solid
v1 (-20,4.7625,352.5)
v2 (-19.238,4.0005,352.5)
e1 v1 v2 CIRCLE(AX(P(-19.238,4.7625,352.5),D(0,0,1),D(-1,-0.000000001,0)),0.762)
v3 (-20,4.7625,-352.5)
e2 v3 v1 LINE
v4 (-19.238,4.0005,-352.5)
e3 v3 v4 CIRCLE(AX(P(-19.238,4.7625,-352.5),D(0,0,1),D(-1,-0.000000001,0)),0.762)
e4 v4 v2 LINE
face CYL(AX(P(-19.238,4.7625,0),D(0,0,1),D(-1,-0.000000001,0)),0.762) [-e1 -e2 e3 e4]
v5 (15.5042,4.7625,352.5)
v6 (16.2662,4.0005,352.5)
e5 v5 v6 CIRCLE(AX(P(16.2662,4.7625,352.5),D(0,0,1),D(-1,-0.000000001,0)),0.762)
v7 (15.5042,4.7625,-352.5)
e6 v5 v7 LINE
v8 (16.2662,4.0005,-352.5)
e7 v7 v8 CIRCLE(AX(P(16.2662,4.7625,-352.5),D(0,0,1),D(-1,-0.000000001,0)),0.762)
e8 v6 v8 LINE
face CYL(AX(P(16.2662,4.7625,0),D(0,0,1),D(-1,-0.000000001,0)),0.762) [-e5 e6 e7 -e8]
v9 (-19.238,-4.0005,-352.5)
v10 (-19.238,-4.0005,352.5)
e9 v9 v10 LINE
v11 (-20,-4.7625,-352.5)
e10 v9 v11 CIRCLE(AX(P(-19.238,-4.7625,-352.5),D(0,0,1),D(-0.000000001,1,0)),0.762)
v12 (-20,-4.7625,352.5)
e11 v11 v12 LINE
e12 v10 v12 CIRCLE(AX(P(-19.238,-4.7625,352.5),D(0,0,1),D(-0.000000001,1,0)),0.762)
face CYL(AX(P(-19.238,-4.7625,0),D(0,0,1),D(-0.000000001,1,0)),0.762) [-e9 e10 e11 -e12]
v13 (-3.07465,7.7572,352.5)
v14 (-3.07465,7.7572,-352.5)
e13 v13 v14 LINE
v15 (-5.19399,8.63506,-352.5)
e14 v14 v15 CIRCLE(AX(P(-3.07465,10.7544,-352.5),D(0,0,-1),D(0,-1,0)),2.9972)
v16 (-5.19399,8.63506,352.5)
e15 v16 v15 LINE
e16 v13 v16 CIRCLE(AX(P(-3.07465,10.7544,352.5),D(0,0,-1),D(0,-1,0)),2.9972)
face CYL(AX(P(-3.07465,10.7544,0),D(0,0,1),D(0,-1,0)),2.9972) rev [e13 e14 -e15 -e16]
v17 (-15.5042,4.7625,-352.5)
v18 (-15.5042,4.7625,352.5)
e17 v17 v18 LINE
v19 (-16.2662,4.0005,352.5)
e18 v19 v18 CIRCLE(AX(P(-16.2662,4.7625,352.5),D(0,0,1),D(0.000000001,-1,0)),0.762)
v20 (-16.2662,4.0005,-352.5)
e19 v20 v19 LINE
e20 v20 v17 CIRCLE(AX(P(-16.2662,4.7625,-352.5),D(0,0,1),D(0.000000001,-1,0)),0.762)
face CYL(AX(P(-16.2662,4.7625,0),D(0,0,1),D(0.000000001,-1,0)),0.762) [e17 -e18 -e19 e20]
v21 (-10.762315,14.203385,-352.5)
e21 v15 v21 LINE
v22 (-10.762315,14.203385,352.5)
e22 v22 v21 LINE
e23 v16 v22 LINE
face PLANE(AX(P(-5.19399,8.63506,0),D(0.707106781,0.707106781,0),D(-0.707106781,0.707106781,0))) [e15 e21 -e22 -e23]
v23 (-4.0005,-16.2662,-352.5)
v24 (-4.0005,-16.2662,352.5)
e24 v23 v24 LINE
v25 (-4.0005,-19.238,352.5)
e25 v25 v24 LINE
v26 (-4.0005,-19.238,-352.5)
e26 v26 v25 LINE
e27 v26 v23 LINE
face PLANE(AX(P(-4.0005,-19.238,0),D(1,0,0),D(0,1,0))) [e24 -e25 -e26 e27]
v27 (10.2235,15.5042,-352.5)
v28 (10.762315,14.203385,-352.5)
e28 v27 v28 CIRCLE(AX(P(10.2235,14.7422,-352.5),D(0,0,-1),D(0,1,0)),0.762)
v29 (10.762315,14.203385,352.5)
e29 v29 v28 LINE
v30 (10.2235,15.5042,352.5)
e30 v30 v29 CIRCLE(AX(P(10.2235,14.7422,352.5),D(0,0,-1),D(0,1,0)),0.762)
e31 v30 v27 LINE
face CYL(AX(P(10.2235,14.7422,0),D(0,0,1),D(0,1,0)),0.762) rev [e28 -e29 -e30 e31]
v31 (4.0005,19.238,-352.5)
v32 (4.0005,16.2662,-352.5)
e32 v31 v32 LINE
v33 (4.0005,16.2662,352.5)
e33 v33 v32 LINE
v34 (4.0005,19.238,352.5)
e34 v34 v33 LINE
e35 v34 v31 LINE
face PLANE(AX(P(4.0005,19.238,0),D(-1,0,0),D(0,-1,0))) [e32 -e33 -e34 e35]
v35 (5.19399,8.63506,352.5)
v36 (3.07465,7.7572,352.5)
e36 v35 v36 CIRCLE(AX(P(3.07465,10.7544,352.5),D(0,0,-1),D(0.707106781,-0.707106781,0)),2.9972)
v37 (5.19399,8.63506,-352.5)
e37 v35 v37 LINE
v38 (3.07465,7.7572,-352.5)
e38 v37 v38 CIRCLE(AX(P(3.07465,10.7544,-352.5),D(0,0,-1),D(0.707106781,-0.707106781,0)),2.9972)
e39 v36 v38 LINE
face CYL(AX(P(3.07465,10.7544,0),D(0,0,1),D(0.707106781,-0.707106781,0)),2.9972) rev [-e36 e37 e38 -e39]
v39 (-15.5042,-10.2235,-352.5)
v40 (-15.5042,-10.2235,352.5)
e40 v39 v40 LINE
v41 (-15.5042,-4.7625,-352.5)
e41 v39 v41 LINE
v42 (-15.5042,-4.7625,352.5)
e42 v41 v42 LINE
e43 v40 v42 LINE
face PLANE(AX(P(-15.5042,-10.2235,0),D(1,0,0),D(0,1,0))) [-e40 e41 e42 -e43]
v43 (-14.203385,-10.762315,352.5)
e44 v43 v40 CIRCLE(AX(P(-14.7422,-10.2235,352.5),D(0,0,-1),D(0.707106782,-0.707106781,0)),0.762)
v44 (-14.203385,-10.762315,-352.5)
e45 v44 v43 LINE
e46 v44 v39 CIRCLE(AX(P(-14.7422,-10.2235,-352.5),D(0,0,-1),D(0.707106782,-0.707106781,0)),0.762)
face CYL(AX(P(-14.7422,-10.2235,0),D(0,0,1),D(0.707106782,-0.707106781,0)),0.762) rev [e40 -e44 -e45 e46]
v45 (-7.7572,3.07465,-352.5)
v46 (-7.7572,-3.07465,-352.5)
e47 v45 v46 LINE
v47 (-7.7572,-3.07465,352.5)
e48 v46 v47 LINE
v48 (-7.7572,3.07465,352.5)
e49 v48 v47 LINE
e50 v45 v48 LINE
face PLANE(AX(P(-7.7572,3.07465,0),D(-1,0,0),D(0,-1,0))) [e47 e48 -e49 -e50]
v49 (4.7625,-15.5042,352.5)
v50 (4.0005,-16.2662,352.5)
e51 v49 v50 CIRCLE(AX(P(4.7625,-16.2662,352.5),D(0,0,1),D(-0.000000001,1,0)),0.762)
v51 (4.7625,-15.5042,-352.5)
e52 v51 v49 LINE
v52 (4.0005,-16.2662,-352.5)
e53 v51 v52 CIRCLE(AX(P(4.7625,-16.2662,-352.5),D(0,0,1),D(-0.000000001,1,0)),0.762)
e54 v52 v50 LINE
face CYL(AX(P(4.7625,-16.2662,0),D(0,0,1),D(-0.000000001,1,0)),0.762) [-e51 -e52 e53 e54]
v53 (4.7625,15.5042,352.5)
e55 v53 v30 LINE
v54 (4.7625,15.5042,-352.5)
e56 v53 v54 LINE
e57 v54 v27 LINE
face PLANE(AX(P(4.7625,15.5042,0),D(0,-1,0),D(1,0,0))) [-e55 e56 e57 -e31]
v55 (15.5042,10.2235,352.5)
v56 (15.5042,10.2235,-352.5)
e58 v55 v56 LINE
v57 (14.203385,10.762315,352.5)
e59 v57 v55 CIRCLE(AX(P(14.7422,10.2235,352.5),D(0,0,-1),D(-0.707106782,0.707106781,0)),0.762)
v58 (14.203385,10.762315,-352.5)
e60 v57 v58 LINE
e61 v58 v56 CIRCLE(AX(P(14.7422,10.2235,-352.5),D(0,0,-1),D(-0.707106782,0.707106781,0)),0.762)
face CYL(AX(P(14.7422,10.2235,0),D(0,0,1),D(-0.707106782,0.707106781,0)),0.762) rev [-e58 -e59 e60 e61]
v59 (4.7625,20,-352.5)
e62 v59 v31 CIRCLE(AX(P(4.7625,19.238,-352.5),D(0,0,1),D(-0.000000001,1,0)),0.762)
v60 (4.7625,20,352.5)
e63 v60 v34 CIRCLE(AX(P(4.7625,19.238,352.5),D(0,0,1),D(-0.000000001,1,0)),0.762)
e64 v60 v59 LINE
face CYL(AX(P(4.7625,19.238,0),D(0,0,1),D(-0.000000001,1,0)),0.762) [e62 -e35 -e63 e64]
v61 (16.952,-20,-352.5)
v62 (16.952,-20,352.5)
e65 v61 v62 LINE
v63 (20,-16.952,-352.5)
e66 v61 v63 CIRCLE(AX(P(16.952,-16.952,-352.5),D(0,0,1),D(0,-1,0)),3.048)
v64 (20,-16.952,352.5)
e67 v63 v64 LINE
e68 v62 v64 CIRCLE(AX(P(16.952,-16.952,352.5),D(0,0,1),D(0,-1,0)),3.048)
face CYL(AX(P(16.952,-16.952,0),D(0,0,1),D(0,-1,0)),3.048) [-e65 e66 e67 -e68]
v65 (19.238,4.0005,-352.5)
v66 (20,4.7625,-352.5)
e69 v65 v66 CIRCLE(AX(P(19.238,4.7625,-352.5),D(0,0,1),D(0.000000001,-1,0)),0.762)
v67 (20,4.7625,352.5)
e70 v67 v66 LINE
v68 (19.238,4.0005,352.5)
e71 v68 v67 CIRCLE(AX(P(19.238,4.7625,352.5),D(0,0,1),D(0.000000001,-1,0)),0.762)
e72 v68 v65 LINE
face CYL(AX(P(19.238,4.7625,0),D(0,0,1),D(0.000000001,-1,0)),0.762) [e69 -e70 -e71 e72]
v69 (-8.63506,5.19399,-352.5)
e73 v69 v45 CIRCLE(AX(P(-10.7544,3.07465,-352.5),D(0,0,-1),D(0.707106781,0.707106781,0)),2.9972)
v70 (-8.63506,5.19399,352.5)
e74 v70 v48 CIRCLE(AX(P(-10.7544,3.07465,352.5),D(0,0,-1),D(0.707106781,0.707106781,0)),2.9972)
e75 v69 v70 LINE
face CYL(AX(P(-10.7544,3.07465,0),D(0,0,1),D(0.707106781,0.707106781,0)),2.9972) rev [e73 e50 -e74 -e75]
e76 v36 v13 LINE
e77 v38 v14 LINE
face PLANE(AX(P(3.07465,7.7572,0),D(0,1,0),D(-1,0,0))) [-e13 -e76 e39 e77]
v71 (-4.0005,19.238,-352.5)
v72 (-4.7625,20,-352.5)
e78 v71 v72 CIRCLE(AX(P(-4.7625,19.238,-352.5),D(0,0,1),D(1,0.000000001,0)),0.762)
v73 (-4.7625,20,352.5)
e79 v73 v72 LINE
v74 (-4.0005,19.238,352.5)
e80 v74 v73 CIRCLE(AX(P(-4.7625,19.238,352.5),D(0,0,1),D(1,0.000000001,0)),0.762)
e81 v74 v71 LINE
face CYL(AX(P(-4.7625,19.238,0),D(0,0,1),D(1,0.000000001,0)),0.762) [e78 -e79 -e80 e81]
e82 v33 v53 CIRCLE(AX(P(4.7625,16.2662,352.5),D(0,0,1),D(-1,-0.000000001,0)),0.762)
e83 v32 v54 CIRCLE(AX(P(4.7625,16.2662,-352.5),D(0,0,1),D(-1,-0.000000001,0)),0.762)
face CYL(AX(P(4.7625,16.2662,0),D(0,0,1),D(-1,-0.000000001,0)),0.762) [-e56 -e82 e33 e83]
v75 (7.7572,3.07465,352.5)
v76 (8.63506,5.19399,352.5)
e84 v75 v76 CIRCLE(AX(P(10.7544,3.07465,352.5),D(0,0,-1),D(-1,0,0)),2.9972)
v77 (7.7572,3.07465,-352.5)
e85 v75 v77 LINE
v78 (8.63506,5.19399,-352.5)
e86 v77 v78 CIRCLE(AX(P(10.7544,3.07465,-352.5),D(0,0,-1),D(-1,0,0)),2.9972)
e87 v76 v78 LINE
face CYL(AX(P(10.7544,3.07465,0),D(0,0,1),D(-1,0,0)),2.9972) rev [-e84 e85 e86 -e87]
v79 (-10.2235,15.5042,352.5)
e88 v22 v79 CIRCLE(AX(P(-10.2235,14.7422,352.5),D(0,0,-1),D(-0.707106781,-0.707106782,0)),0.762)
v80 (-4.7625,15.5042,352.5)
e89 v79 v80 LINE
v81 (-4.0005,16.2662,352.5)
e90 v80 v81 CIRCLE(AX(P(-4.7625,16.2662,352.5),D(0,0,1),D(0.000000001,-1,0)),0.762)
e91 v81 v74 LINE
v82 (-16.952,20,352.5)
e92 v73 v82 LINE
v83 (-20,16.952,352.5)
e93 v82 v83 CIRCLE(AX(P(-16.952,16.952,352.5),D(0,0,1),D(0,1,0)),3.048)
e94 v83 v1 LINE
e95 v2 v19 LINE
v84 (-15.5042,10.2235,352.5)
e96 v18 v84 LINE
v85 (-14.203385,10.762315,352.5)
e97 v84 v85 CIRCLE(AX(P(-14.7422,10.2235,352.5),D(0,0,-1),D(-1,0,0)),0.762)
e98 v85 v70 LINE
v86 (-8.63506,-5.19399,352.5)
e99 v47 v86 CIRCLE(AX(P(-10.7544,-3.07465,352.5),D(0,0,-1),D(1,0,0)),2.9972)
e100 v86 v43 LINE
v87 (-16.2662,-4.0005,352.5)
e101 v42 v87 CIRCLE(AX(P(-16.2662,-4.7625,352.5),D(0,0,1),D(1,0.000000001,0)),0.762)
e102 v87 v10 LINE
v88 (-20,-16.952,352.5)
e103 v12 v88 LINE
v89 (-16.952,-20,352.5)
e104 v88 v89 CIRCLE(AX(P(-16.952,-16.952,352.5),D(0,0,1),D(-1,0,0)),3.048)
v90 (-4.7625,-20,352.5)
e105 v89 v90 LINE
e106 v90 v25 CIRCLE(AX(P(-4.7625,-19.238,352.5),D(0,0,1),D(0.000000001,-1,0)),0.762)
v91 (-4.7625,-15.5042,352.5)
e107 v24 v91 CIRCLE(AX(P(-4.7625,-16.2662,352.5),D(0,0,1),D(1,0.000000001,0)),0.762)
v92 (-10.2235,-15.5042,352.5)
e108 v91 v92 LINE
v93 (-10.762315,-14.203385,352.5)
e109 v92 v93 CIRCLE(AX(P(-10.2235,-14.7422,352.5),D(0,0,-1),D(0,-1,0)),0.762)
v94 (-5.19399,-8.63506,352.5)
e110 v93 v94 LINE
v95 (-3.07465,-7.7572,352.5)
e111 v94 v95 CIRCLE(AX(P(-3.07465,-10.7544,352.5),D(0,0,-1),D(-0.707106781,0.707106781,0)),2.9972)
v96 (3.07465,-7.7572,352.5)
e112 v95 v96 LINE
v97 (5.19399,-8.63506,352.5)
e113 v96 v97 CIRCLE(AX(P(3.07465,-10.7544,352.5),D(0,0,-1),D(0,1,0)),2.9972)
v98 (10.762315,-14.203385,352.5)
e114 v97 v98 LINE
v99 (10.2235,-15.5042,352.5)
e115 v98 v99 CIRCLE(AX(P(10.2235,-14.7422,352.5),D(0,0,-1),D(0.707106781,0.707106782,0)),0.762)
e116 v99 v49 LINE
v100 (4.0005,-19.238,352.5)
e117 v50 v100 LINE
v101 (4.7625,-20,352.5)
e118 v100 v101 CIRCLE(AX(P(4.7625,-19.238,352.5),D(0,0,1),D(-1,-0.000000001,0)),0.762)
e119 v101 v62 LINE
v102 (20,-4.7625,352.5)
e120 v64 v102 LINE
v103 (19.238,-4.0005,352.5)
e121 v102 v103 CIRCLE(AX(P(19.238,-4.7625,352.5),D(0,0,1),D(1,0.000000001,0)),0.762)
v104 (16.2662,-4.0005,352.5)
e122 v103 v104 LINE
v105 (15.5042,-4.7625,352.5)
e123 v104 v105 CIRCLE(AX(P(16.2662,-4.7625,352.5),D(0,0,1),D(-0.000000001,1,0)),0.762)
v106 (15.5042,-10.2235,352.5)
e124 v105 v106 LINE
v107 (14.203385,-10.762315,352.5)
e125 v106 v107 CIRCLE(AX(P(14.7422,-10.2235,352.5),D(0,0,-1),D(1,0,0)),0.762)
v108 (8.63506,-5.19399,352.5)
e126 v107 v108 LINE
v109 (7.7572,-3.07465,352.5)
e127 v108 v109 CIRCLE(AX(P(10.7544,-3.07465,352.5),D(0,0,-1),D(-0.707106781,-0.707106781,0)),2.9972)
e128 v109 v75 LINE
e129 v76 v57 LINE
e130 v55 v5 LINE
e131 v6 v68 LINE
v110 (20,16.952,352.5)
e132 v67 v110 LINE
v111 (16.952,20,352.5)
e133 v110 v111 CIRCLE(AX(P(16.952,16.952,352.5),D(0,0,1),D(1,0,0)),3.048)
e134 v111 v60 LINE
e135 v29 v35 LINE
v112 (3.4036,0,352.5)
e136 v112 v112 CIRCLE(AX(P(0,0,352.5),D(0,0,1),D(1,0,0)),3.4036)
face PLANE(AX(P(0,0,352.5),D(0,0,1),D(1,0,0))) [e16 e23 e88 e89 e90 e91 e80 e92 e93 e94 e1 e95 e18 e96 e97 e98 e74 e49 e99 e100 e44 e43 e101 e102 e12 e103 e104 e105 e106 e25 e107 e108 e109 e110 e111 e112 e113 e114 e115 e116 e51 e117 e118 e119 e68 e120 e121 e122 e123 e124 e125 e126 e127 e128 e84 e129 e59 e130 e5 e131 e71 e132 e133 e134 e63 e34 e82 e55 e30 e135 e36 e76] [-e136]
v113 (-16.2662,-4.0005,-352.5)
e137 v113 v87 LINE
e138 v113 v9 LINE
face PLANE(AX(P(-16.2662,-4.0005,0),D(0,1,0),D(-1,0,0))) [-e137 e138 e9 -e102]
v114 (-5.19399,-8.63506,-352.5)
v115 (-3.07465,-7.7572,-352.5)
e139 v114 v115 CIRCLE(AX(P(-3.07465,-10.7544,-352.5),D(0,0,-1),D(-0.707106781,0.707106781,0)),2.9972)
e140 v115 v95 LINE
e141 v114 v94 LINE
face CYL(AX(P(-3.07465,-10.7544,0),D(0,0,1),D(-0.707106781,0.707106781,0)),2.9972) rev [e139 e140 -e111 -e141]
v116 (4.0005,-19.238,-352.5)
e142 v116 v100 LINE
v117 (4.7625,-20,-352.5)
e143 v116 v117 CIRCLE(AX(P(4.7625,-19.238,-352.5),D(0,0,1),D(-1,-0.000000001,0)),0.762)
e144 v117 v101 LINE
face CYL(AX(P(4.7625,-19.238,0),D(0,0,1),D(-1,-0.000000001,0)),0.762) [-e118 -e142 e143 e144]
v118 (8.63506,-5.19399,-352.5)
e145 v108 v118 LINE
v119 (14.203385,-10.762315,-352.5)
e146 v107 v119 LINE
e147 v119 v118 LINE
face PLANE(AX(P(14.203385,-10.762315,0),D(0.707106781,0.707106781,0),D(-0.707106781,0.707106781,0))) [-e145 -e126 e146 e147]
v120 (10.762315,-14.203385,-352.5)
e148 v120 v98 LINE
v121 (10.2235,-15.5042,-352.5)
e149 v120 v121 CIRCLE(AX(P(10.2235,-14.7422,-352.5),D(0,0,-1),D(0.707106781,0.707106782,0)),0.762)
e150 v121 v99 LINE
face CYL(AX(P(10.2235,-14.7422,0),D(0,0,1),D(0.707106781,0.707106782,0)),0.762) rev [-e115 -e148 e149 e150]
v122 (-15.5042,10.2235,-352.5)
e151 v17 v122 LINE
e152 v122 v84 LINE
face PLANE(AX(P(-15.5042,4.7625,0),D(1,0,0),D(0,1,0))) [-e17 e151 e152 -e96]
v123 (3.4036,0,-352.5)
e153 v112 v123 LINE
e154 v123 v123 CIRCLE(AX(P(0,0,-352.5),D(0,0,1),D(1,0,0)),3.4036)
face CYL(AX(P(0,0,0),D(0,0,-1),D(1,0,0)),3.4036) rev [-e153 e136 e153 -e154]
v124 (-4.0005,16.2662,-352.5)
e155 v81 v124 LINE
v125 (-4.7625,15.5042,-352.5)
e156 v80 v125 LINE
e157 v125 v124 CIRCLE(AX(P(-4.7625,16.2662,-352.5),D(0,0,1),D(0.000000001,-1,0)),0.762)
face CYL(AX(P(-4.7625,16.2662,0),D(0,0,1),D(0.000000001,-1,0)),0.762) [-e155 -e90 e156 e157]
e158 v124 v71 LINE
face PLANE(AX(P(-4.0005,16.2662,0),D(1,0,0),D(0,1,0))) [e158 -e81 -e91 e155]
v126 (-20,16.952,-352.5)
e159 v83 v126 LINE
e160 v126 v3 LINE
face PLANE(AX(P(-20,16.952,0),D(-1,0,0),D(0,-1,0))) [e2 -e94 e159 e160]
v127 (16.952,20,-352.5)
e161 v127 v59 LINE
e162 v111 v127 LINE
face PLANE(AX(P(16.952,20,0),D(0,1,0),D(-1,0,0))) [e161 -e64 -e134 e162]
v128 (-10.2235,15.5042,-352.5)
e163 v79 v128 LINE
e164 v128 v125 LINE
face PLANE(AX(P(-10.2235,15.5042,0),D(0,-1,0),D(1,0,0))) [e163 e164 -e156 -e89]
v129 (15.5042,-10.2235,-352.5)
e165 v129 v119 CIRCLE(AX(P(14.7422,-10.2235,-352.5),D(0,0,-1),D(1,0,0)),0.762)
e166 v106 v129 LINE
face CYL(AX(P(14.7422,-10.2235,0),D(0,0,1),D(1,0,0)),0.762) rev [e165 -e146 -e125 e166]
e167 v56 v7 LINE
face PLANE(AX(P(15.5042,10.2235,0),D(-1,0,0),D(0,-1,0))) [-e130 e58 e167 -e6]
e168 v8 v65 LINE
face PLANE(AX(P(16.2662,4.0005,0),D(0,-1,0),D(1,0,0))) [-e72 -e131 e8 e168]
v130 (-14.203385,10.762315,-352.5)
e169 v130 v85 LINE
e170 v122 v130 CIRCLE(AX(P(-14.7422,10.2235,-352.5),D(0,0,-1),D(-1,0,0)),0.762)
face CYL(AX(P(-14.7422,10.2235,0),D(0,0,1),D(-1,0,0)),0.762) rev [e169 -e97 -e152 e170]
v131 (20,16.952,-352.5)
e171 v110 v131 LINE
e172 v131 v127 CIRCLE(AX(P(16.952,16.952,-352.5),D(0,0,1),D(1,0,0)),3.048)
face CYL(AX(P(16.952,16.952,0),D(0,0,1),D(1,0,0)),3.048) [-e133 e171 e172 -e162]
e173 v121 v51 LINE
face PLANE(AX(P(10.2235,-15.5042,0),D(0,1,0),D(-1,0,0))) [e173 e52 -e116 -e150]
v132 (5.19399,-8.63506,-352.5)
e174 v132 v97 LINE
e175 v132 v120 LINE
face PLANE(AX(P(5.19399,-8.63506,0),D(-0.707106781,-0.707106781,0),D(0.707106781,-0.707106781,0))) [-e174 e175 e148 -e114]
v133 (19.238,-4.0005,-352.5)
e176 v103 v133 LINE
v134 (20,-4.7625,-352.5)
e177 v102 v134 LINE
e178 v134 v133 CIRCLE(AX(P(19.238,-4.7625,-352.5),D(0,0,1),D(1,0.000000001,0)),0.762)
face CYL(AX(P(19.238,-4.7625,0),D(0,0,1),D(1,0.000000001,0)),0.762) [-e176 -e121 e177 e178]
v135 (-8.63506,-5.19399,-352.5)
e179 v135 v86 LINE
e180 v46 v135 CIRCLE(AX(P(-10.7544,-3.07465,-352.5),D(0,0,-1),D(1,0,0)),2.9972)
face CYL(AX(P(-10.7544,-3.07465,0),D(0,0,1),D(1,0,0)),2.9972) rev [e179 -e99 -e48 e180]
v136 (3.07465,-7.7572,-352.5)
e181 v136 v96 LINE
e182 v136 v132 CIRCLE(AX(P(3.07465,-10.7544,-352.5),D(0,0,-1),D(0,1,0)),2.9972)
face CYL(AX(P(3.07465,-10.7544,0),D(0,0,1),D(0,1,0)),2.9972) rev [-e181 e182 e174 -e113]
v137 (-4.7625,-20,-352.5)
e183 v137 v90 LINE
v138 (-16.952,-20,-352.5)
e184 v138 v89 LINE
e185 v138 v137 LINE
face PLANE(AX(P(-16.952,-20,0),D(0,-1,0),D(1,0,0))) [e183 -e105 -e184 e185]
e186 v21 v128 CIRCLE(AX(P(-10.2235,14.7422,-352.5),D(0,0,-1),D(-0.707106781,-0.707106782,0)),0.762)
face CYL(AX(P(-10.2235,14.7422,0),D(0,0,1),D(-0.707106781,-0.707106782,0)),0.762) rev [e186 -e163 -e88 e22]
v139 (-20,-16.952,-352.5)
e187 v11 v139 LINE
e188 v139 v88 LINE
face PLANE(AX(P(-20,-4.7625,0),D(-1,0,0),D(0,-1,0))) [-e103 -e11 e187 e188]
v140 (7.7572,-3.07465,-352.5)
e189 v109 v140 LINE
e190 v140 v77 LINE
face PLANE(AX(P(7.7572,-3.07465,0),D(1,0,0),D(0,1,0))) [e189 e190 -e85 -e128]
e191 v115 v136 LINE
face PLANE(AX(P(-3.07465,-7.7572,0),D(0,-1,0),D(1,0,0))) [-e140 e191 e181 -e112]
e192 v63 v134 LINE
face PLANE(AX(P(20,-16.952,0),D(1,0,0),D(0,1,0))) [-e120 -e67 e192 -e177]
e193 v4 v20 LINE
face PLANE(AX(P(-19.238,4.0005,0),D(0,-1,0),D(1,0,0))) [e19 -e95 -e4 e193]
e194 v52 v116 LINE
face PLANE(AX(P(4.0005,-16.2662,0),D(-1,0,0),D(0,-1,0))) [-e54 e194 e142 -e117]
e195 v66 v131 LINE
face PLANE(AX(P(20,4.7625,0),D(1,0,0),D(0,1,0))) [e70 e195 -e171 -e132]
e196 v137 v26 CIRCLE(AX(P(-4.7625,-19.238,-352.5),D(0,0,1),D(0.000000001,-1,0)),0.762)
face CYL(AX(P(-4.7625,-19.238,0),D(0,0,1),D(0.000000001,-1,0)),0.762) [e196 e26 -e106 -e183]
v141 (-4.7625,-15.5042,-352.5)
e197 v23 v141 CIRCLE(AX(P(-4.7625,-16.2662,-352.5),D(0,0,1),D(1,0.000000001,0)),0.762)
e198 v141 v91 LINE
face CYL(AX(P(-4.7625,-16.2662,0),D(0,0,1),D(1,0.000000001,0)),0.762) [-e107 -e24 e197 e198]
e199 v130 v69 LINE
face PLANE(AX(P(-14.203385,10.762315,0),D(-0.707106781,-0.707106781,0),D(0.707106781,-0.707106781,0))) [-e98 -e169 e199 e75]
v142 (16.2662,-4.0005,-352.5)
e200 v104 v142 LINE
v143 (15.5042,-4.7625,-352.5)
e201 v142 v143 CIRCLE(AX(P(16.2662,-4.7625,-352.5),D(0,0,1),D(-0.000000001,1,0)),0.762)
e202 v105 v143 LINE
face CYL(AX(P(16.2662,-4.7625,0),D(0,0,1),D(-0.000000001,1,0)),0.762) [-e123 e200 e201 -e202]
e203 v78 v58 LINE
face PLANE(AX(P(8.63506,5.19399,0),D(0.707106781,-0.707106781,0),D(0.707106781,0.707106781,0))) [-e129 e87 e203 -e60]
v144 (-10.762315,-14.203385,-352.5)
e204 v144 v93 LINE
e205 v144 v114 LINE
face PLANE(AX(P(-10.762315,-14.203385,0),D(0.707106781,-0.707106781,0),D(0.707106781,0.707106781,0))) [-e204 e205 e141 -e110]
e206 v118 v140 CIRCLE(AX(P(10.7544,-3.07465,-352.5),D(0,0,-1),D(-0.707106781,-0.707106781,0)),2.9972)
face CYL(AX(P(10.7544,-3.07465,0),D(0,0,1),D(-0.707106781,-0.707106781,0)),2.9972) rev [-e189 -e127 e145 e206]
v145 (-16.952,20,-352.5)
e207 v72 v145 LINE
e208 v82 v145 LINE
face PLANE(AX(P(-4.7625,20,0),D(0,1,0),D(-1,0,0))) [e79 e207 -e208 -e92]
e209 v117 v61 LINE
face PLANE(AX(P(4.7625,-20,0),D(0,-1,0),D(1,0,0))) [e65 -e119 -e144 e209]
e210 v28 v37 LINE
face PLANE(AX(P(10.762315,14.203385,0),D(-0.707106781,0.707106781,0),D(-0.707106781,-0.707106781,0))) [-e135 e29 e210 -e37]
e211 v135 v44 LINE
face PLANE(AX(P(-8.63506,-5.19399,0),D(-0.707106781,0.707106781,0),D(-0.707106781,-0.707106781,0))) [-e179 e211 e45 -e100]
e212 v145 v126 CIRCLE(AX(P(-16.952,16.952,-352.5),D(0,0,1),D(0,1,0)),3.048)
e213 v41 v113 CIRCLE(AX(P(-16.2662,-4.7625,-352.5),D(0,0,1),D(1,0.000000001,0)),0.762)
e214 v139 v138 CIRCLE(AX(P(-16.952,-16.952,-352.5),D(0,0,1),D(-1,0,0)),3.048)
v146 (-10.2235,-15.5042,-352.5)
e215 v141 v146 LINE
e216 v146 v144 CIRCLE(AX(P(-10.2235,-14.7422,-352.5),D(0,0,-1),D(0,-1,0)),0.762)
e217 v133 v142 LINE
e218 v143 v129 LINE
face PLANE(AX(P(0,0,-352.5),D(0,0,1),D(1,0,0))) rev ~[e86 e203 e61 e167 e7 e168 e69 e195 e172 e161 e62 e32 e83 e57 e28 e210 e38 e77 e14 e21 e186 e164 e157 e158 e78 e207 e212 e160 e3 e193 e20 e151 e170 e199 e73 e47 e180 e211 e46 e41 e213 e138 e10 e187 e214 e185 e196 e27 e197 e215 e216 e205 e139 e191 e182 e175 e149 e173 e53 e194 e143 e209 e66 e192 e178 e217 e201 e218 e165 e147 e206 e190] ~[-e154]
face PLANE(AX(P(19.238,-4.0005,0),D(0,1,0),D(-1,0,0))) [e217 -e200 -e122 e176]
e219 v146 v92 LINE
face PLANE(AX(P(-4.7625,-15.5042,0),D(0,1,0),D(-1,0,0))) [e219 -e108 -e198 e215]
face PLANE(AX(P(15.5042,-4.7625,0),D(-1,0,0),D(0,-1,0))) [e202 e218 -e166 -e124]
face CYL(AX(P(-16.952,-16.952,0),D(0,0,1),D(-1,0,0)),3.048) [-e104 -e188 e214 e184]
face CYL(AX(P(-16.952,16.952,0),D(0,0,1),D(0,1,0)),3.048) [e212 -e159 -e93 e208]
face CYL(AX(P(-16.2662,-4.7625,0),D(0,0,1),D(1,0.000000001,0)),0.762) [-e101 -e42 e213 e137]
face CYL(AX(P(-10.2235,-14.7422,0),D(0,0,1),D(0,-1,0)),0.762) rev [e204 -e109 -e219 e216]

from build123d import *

# Parameters (mm, degrees)
SKETCH1_R           = 3.4036
BOSS_EXTRUDE1_DEPTH = 352.5


with BuildPart() as part:
    # Sketch1 → Boss-Extrude1 (new body, symmetric)
    with BuildSketch(Plane.XY):
        with BuildLine():
            Line((-20, 16.952), (-20, 4.7625))
            ThreePointArc((-20, 4.7625), (-19.776815367, 4.223684633), (-19.238, 4.0005))
            Line((-19.238, 4.0005), (-16.2662, 4.0005))
            ThreePointArc((-16.2662, 4.0005), (-15.727384633, 4.223684633), (-15.5042, 4.7625))
            Line((-15.5042, 4.7625), (-15.5042, 10.2235))
            ThreePointArc((-15.5042, 10.2235), (-15.033804775, 10.927496204), (-14.203384633, 10.762315367))
            Line((-14.203384633, 10.762315367), (-8.635059555, 5.19399029))
            ThreePointArc((-8.635059555, 5.19399029), (-7.985348265, 4.221628629), (-7.7572, 3.074649845))
            Line((-7.7572, 3.074649845), (-7.7572, -3.074649845))
            ThreePointArc((-7.7572, -3.074649845), (-7.985348265, -4.221628629), (-8.635059555, -5.19399029))
            Line((-8.635059555, -5.19399029), (-14.203384633, -10.762315367))
            ThreePointArc((-14.203384633, -10.762315367), (-15.033804775, -10.927496204), (-15.5042, -10.2235))
            Line((-15.5042, -10.2235), (-15.5042, -4.7625))
            ThreePointArc((-15.5042, -4.7625), (-15.727384633, -4.223684633), (-16.2662, -4.0005))
            Line((-16.2662, -4.0005), (-19.238, -4.0005))
            ThreePointArc((-19.238, -4.0005), (-19.776815367, -4.223684633), (-20, -4.7625))
            Line((-20, -4.7625), (-20, -16.952))
            ThreePointArc((-20, -16.952), (-19.107261469, -19.107261469), (-16.952, -20))
            Line((-16.952, -20), (-4.7625, -20))
            ThreePointArc((-4.7625, -20), (-4.223684633, -19.776815367), (-4.0005, -19.238))
            Line((-4.0005, -19.238), (-4.0005, -16.2662))
            ThreePointArc((-4.0005, -16.2662), (-4.223684633, -15.727384633), (-4.7625, -15.5042))
            Line((-4.7625, -15.5042), (-10.2235, -15.5042))
            ThreePointArc((-10.2235, -15.5042), (-10.927496204, -15.033804775), (-10.762315367, -14.203384633))
            Line((-10.762315367, -14.203384633), (-5.19399029, -8.635059555))
            ThreePointArc((-5.19399029, -8.635059555), (-4.221628629, -7.985348265), (-3.074649845, -7.7572))
            Line((-3.074649845, -7.7572), (3.074649845, -7.7572))
            ThreePointArc((3.074649845, -7.7572), (4.221628629, -7.985348265), (5.19399029, -8.635059555))
            Line((5.19399029, -8.635059555), (10.762315367, -14.203384633))
            ThreePointArc((10.762315367, -14.203384633), (10.927496204, -15.033804775), (10.2235, -15.5042))
            Line((10.2235, -15.5042), (4.7625, -15.5042))
            ThreePointArc((4.7625, -15.5042), (4.223684633, -15.727384633), (4.0005, -16.2662))
            Line((4.0005, -16.2662), (4.0005, -19.238))
            ThreePointArc((4.0005, -19.238), (4.223684633, -19.776815367), (4.7625, -20))
            Line((4.7625, -20), (16.952, -20))
            ThreePointArc((16.952, -20), (19.107261469, -19.107261469), (20, -16.952))
            Line((20, -16.952), (20, -4.7625))
            ThreePointArc((20, -4.7625), (19.776815367, -4.223684633), (19.238, -4.0005))
            Line((19.238, -4.0005), (16.2662, -4.0005))
            ThreePointArc((16.2662, -4.0005), (15.727384633, -4.223684633), (15.5042, -4.7625))
            Line((15.5042, -4.7625), (15.5042, -10.2235))
            ThreePointArc((15.5042, -10.2235), (15.033804775, -10.927496204), (14.203384633, -10.762315367))
            Line((14.203384633, -10.762315367), (8.635059555, -5.19399029))
            ThreePointArc((8.635059555, -5.19399029), (7.985348265, -4.221628629), (7.7572, -3.074649845))
            Line((7.7572, -3.074649845), (7.7572, 3.074649845))
            ThreePointArc((7.7572, 3.074649845), (7.985348265, 4.221628629), (8.635059555, 5.19399029))
            Line((8.635059555, 5.19399029), (14.203384633, 10.762315367))
            ThreePointArc((14.203384633, 10.762315367), (15.033804775, 10.927496204), (15.5042, 10.2235))
            Line((15.5042, 10.2235), (15.5042, 4.7625))
            ThreePointArc((15.5042, 4.7625), (15.727384633, 4.223684633), (16.2662, 4.0005))
            Line((16.2662, 4.0005), (19.238, 4.0005))
            ThreePointArc((19.238, 4.0005), (19.776815367, 4.223684633), (20, 4.7625))
            Line((20, 4.7625), (20, 16.952))
            ThreePointArc((20, 16.952), (19.107261469, 19.107261469), (16.952, 20))
            Line((16.952, 20), (4.7625, 20))
            ThreePointArc((4.7625, 20), (4.223684633, 19.776815367), (4.0005, 19.238))
            Line((4.0005, 19.238), (4.0005, 16.2662))
            ThreePointArc((4.0005, 16.2662), (4.223684633, 15.727384633), (4.7625, 15.5042))
            Line((4.7625, 15.5042), (10.2235, 15.5042))
            ThreePointArc((10.2235, 15.5042), (10.927496204, 15.033804775), (10.762315367, 14.203384633))
            Line((10.762315367, 14.203384633), (5.19399029, 8.635059555))
            ThreePointArc((5.19399029, 8.635059555), (4.221628629, 7.985348265), (3.074649845, 7.7572))
            Line((3.074649845, 7.7572), (-3.074649845, 7.7572))
            ThreePointArc((-3.074649845, 7.7572), (-4.221628629, 7.985348265), (-5.19399029, 8.635059555))
            Line((-5.19399029, 8.635059555), (-10.762315367, 14.203384633))
            ThreePointArc((-10.762315367, 14.203384633), (-10.927496204, 15.033804775), (-10.2235, 15.5042))
            Line((-10.2235, 15.5042), (-4.7625, 15.5042))
            ThreePointArc((-4.7625, 15.5042), (-4.223684633, 15.727384633), (-4.0005, 16.2662))
            Line((-4.0005, 16.2662), (-4.0005, 19.238))
            ThreePointArc((-4.0005, 19.238), (-4.223684633, 19.776815367), (-4.7625, 20))
            Line((-4.7625, 20), (-16.952, 20))
            ThreePointArc((-16.952, 20), (-19.107261469, 19.107261469), (-20, 16.952))
        make_face()
        Circle(SKETCH1_R, mode=Mode.SUBTRACT)
    extrude(amount=BOSS_EXTRUDE1_DEPTH, both=True)


solid = part.part
